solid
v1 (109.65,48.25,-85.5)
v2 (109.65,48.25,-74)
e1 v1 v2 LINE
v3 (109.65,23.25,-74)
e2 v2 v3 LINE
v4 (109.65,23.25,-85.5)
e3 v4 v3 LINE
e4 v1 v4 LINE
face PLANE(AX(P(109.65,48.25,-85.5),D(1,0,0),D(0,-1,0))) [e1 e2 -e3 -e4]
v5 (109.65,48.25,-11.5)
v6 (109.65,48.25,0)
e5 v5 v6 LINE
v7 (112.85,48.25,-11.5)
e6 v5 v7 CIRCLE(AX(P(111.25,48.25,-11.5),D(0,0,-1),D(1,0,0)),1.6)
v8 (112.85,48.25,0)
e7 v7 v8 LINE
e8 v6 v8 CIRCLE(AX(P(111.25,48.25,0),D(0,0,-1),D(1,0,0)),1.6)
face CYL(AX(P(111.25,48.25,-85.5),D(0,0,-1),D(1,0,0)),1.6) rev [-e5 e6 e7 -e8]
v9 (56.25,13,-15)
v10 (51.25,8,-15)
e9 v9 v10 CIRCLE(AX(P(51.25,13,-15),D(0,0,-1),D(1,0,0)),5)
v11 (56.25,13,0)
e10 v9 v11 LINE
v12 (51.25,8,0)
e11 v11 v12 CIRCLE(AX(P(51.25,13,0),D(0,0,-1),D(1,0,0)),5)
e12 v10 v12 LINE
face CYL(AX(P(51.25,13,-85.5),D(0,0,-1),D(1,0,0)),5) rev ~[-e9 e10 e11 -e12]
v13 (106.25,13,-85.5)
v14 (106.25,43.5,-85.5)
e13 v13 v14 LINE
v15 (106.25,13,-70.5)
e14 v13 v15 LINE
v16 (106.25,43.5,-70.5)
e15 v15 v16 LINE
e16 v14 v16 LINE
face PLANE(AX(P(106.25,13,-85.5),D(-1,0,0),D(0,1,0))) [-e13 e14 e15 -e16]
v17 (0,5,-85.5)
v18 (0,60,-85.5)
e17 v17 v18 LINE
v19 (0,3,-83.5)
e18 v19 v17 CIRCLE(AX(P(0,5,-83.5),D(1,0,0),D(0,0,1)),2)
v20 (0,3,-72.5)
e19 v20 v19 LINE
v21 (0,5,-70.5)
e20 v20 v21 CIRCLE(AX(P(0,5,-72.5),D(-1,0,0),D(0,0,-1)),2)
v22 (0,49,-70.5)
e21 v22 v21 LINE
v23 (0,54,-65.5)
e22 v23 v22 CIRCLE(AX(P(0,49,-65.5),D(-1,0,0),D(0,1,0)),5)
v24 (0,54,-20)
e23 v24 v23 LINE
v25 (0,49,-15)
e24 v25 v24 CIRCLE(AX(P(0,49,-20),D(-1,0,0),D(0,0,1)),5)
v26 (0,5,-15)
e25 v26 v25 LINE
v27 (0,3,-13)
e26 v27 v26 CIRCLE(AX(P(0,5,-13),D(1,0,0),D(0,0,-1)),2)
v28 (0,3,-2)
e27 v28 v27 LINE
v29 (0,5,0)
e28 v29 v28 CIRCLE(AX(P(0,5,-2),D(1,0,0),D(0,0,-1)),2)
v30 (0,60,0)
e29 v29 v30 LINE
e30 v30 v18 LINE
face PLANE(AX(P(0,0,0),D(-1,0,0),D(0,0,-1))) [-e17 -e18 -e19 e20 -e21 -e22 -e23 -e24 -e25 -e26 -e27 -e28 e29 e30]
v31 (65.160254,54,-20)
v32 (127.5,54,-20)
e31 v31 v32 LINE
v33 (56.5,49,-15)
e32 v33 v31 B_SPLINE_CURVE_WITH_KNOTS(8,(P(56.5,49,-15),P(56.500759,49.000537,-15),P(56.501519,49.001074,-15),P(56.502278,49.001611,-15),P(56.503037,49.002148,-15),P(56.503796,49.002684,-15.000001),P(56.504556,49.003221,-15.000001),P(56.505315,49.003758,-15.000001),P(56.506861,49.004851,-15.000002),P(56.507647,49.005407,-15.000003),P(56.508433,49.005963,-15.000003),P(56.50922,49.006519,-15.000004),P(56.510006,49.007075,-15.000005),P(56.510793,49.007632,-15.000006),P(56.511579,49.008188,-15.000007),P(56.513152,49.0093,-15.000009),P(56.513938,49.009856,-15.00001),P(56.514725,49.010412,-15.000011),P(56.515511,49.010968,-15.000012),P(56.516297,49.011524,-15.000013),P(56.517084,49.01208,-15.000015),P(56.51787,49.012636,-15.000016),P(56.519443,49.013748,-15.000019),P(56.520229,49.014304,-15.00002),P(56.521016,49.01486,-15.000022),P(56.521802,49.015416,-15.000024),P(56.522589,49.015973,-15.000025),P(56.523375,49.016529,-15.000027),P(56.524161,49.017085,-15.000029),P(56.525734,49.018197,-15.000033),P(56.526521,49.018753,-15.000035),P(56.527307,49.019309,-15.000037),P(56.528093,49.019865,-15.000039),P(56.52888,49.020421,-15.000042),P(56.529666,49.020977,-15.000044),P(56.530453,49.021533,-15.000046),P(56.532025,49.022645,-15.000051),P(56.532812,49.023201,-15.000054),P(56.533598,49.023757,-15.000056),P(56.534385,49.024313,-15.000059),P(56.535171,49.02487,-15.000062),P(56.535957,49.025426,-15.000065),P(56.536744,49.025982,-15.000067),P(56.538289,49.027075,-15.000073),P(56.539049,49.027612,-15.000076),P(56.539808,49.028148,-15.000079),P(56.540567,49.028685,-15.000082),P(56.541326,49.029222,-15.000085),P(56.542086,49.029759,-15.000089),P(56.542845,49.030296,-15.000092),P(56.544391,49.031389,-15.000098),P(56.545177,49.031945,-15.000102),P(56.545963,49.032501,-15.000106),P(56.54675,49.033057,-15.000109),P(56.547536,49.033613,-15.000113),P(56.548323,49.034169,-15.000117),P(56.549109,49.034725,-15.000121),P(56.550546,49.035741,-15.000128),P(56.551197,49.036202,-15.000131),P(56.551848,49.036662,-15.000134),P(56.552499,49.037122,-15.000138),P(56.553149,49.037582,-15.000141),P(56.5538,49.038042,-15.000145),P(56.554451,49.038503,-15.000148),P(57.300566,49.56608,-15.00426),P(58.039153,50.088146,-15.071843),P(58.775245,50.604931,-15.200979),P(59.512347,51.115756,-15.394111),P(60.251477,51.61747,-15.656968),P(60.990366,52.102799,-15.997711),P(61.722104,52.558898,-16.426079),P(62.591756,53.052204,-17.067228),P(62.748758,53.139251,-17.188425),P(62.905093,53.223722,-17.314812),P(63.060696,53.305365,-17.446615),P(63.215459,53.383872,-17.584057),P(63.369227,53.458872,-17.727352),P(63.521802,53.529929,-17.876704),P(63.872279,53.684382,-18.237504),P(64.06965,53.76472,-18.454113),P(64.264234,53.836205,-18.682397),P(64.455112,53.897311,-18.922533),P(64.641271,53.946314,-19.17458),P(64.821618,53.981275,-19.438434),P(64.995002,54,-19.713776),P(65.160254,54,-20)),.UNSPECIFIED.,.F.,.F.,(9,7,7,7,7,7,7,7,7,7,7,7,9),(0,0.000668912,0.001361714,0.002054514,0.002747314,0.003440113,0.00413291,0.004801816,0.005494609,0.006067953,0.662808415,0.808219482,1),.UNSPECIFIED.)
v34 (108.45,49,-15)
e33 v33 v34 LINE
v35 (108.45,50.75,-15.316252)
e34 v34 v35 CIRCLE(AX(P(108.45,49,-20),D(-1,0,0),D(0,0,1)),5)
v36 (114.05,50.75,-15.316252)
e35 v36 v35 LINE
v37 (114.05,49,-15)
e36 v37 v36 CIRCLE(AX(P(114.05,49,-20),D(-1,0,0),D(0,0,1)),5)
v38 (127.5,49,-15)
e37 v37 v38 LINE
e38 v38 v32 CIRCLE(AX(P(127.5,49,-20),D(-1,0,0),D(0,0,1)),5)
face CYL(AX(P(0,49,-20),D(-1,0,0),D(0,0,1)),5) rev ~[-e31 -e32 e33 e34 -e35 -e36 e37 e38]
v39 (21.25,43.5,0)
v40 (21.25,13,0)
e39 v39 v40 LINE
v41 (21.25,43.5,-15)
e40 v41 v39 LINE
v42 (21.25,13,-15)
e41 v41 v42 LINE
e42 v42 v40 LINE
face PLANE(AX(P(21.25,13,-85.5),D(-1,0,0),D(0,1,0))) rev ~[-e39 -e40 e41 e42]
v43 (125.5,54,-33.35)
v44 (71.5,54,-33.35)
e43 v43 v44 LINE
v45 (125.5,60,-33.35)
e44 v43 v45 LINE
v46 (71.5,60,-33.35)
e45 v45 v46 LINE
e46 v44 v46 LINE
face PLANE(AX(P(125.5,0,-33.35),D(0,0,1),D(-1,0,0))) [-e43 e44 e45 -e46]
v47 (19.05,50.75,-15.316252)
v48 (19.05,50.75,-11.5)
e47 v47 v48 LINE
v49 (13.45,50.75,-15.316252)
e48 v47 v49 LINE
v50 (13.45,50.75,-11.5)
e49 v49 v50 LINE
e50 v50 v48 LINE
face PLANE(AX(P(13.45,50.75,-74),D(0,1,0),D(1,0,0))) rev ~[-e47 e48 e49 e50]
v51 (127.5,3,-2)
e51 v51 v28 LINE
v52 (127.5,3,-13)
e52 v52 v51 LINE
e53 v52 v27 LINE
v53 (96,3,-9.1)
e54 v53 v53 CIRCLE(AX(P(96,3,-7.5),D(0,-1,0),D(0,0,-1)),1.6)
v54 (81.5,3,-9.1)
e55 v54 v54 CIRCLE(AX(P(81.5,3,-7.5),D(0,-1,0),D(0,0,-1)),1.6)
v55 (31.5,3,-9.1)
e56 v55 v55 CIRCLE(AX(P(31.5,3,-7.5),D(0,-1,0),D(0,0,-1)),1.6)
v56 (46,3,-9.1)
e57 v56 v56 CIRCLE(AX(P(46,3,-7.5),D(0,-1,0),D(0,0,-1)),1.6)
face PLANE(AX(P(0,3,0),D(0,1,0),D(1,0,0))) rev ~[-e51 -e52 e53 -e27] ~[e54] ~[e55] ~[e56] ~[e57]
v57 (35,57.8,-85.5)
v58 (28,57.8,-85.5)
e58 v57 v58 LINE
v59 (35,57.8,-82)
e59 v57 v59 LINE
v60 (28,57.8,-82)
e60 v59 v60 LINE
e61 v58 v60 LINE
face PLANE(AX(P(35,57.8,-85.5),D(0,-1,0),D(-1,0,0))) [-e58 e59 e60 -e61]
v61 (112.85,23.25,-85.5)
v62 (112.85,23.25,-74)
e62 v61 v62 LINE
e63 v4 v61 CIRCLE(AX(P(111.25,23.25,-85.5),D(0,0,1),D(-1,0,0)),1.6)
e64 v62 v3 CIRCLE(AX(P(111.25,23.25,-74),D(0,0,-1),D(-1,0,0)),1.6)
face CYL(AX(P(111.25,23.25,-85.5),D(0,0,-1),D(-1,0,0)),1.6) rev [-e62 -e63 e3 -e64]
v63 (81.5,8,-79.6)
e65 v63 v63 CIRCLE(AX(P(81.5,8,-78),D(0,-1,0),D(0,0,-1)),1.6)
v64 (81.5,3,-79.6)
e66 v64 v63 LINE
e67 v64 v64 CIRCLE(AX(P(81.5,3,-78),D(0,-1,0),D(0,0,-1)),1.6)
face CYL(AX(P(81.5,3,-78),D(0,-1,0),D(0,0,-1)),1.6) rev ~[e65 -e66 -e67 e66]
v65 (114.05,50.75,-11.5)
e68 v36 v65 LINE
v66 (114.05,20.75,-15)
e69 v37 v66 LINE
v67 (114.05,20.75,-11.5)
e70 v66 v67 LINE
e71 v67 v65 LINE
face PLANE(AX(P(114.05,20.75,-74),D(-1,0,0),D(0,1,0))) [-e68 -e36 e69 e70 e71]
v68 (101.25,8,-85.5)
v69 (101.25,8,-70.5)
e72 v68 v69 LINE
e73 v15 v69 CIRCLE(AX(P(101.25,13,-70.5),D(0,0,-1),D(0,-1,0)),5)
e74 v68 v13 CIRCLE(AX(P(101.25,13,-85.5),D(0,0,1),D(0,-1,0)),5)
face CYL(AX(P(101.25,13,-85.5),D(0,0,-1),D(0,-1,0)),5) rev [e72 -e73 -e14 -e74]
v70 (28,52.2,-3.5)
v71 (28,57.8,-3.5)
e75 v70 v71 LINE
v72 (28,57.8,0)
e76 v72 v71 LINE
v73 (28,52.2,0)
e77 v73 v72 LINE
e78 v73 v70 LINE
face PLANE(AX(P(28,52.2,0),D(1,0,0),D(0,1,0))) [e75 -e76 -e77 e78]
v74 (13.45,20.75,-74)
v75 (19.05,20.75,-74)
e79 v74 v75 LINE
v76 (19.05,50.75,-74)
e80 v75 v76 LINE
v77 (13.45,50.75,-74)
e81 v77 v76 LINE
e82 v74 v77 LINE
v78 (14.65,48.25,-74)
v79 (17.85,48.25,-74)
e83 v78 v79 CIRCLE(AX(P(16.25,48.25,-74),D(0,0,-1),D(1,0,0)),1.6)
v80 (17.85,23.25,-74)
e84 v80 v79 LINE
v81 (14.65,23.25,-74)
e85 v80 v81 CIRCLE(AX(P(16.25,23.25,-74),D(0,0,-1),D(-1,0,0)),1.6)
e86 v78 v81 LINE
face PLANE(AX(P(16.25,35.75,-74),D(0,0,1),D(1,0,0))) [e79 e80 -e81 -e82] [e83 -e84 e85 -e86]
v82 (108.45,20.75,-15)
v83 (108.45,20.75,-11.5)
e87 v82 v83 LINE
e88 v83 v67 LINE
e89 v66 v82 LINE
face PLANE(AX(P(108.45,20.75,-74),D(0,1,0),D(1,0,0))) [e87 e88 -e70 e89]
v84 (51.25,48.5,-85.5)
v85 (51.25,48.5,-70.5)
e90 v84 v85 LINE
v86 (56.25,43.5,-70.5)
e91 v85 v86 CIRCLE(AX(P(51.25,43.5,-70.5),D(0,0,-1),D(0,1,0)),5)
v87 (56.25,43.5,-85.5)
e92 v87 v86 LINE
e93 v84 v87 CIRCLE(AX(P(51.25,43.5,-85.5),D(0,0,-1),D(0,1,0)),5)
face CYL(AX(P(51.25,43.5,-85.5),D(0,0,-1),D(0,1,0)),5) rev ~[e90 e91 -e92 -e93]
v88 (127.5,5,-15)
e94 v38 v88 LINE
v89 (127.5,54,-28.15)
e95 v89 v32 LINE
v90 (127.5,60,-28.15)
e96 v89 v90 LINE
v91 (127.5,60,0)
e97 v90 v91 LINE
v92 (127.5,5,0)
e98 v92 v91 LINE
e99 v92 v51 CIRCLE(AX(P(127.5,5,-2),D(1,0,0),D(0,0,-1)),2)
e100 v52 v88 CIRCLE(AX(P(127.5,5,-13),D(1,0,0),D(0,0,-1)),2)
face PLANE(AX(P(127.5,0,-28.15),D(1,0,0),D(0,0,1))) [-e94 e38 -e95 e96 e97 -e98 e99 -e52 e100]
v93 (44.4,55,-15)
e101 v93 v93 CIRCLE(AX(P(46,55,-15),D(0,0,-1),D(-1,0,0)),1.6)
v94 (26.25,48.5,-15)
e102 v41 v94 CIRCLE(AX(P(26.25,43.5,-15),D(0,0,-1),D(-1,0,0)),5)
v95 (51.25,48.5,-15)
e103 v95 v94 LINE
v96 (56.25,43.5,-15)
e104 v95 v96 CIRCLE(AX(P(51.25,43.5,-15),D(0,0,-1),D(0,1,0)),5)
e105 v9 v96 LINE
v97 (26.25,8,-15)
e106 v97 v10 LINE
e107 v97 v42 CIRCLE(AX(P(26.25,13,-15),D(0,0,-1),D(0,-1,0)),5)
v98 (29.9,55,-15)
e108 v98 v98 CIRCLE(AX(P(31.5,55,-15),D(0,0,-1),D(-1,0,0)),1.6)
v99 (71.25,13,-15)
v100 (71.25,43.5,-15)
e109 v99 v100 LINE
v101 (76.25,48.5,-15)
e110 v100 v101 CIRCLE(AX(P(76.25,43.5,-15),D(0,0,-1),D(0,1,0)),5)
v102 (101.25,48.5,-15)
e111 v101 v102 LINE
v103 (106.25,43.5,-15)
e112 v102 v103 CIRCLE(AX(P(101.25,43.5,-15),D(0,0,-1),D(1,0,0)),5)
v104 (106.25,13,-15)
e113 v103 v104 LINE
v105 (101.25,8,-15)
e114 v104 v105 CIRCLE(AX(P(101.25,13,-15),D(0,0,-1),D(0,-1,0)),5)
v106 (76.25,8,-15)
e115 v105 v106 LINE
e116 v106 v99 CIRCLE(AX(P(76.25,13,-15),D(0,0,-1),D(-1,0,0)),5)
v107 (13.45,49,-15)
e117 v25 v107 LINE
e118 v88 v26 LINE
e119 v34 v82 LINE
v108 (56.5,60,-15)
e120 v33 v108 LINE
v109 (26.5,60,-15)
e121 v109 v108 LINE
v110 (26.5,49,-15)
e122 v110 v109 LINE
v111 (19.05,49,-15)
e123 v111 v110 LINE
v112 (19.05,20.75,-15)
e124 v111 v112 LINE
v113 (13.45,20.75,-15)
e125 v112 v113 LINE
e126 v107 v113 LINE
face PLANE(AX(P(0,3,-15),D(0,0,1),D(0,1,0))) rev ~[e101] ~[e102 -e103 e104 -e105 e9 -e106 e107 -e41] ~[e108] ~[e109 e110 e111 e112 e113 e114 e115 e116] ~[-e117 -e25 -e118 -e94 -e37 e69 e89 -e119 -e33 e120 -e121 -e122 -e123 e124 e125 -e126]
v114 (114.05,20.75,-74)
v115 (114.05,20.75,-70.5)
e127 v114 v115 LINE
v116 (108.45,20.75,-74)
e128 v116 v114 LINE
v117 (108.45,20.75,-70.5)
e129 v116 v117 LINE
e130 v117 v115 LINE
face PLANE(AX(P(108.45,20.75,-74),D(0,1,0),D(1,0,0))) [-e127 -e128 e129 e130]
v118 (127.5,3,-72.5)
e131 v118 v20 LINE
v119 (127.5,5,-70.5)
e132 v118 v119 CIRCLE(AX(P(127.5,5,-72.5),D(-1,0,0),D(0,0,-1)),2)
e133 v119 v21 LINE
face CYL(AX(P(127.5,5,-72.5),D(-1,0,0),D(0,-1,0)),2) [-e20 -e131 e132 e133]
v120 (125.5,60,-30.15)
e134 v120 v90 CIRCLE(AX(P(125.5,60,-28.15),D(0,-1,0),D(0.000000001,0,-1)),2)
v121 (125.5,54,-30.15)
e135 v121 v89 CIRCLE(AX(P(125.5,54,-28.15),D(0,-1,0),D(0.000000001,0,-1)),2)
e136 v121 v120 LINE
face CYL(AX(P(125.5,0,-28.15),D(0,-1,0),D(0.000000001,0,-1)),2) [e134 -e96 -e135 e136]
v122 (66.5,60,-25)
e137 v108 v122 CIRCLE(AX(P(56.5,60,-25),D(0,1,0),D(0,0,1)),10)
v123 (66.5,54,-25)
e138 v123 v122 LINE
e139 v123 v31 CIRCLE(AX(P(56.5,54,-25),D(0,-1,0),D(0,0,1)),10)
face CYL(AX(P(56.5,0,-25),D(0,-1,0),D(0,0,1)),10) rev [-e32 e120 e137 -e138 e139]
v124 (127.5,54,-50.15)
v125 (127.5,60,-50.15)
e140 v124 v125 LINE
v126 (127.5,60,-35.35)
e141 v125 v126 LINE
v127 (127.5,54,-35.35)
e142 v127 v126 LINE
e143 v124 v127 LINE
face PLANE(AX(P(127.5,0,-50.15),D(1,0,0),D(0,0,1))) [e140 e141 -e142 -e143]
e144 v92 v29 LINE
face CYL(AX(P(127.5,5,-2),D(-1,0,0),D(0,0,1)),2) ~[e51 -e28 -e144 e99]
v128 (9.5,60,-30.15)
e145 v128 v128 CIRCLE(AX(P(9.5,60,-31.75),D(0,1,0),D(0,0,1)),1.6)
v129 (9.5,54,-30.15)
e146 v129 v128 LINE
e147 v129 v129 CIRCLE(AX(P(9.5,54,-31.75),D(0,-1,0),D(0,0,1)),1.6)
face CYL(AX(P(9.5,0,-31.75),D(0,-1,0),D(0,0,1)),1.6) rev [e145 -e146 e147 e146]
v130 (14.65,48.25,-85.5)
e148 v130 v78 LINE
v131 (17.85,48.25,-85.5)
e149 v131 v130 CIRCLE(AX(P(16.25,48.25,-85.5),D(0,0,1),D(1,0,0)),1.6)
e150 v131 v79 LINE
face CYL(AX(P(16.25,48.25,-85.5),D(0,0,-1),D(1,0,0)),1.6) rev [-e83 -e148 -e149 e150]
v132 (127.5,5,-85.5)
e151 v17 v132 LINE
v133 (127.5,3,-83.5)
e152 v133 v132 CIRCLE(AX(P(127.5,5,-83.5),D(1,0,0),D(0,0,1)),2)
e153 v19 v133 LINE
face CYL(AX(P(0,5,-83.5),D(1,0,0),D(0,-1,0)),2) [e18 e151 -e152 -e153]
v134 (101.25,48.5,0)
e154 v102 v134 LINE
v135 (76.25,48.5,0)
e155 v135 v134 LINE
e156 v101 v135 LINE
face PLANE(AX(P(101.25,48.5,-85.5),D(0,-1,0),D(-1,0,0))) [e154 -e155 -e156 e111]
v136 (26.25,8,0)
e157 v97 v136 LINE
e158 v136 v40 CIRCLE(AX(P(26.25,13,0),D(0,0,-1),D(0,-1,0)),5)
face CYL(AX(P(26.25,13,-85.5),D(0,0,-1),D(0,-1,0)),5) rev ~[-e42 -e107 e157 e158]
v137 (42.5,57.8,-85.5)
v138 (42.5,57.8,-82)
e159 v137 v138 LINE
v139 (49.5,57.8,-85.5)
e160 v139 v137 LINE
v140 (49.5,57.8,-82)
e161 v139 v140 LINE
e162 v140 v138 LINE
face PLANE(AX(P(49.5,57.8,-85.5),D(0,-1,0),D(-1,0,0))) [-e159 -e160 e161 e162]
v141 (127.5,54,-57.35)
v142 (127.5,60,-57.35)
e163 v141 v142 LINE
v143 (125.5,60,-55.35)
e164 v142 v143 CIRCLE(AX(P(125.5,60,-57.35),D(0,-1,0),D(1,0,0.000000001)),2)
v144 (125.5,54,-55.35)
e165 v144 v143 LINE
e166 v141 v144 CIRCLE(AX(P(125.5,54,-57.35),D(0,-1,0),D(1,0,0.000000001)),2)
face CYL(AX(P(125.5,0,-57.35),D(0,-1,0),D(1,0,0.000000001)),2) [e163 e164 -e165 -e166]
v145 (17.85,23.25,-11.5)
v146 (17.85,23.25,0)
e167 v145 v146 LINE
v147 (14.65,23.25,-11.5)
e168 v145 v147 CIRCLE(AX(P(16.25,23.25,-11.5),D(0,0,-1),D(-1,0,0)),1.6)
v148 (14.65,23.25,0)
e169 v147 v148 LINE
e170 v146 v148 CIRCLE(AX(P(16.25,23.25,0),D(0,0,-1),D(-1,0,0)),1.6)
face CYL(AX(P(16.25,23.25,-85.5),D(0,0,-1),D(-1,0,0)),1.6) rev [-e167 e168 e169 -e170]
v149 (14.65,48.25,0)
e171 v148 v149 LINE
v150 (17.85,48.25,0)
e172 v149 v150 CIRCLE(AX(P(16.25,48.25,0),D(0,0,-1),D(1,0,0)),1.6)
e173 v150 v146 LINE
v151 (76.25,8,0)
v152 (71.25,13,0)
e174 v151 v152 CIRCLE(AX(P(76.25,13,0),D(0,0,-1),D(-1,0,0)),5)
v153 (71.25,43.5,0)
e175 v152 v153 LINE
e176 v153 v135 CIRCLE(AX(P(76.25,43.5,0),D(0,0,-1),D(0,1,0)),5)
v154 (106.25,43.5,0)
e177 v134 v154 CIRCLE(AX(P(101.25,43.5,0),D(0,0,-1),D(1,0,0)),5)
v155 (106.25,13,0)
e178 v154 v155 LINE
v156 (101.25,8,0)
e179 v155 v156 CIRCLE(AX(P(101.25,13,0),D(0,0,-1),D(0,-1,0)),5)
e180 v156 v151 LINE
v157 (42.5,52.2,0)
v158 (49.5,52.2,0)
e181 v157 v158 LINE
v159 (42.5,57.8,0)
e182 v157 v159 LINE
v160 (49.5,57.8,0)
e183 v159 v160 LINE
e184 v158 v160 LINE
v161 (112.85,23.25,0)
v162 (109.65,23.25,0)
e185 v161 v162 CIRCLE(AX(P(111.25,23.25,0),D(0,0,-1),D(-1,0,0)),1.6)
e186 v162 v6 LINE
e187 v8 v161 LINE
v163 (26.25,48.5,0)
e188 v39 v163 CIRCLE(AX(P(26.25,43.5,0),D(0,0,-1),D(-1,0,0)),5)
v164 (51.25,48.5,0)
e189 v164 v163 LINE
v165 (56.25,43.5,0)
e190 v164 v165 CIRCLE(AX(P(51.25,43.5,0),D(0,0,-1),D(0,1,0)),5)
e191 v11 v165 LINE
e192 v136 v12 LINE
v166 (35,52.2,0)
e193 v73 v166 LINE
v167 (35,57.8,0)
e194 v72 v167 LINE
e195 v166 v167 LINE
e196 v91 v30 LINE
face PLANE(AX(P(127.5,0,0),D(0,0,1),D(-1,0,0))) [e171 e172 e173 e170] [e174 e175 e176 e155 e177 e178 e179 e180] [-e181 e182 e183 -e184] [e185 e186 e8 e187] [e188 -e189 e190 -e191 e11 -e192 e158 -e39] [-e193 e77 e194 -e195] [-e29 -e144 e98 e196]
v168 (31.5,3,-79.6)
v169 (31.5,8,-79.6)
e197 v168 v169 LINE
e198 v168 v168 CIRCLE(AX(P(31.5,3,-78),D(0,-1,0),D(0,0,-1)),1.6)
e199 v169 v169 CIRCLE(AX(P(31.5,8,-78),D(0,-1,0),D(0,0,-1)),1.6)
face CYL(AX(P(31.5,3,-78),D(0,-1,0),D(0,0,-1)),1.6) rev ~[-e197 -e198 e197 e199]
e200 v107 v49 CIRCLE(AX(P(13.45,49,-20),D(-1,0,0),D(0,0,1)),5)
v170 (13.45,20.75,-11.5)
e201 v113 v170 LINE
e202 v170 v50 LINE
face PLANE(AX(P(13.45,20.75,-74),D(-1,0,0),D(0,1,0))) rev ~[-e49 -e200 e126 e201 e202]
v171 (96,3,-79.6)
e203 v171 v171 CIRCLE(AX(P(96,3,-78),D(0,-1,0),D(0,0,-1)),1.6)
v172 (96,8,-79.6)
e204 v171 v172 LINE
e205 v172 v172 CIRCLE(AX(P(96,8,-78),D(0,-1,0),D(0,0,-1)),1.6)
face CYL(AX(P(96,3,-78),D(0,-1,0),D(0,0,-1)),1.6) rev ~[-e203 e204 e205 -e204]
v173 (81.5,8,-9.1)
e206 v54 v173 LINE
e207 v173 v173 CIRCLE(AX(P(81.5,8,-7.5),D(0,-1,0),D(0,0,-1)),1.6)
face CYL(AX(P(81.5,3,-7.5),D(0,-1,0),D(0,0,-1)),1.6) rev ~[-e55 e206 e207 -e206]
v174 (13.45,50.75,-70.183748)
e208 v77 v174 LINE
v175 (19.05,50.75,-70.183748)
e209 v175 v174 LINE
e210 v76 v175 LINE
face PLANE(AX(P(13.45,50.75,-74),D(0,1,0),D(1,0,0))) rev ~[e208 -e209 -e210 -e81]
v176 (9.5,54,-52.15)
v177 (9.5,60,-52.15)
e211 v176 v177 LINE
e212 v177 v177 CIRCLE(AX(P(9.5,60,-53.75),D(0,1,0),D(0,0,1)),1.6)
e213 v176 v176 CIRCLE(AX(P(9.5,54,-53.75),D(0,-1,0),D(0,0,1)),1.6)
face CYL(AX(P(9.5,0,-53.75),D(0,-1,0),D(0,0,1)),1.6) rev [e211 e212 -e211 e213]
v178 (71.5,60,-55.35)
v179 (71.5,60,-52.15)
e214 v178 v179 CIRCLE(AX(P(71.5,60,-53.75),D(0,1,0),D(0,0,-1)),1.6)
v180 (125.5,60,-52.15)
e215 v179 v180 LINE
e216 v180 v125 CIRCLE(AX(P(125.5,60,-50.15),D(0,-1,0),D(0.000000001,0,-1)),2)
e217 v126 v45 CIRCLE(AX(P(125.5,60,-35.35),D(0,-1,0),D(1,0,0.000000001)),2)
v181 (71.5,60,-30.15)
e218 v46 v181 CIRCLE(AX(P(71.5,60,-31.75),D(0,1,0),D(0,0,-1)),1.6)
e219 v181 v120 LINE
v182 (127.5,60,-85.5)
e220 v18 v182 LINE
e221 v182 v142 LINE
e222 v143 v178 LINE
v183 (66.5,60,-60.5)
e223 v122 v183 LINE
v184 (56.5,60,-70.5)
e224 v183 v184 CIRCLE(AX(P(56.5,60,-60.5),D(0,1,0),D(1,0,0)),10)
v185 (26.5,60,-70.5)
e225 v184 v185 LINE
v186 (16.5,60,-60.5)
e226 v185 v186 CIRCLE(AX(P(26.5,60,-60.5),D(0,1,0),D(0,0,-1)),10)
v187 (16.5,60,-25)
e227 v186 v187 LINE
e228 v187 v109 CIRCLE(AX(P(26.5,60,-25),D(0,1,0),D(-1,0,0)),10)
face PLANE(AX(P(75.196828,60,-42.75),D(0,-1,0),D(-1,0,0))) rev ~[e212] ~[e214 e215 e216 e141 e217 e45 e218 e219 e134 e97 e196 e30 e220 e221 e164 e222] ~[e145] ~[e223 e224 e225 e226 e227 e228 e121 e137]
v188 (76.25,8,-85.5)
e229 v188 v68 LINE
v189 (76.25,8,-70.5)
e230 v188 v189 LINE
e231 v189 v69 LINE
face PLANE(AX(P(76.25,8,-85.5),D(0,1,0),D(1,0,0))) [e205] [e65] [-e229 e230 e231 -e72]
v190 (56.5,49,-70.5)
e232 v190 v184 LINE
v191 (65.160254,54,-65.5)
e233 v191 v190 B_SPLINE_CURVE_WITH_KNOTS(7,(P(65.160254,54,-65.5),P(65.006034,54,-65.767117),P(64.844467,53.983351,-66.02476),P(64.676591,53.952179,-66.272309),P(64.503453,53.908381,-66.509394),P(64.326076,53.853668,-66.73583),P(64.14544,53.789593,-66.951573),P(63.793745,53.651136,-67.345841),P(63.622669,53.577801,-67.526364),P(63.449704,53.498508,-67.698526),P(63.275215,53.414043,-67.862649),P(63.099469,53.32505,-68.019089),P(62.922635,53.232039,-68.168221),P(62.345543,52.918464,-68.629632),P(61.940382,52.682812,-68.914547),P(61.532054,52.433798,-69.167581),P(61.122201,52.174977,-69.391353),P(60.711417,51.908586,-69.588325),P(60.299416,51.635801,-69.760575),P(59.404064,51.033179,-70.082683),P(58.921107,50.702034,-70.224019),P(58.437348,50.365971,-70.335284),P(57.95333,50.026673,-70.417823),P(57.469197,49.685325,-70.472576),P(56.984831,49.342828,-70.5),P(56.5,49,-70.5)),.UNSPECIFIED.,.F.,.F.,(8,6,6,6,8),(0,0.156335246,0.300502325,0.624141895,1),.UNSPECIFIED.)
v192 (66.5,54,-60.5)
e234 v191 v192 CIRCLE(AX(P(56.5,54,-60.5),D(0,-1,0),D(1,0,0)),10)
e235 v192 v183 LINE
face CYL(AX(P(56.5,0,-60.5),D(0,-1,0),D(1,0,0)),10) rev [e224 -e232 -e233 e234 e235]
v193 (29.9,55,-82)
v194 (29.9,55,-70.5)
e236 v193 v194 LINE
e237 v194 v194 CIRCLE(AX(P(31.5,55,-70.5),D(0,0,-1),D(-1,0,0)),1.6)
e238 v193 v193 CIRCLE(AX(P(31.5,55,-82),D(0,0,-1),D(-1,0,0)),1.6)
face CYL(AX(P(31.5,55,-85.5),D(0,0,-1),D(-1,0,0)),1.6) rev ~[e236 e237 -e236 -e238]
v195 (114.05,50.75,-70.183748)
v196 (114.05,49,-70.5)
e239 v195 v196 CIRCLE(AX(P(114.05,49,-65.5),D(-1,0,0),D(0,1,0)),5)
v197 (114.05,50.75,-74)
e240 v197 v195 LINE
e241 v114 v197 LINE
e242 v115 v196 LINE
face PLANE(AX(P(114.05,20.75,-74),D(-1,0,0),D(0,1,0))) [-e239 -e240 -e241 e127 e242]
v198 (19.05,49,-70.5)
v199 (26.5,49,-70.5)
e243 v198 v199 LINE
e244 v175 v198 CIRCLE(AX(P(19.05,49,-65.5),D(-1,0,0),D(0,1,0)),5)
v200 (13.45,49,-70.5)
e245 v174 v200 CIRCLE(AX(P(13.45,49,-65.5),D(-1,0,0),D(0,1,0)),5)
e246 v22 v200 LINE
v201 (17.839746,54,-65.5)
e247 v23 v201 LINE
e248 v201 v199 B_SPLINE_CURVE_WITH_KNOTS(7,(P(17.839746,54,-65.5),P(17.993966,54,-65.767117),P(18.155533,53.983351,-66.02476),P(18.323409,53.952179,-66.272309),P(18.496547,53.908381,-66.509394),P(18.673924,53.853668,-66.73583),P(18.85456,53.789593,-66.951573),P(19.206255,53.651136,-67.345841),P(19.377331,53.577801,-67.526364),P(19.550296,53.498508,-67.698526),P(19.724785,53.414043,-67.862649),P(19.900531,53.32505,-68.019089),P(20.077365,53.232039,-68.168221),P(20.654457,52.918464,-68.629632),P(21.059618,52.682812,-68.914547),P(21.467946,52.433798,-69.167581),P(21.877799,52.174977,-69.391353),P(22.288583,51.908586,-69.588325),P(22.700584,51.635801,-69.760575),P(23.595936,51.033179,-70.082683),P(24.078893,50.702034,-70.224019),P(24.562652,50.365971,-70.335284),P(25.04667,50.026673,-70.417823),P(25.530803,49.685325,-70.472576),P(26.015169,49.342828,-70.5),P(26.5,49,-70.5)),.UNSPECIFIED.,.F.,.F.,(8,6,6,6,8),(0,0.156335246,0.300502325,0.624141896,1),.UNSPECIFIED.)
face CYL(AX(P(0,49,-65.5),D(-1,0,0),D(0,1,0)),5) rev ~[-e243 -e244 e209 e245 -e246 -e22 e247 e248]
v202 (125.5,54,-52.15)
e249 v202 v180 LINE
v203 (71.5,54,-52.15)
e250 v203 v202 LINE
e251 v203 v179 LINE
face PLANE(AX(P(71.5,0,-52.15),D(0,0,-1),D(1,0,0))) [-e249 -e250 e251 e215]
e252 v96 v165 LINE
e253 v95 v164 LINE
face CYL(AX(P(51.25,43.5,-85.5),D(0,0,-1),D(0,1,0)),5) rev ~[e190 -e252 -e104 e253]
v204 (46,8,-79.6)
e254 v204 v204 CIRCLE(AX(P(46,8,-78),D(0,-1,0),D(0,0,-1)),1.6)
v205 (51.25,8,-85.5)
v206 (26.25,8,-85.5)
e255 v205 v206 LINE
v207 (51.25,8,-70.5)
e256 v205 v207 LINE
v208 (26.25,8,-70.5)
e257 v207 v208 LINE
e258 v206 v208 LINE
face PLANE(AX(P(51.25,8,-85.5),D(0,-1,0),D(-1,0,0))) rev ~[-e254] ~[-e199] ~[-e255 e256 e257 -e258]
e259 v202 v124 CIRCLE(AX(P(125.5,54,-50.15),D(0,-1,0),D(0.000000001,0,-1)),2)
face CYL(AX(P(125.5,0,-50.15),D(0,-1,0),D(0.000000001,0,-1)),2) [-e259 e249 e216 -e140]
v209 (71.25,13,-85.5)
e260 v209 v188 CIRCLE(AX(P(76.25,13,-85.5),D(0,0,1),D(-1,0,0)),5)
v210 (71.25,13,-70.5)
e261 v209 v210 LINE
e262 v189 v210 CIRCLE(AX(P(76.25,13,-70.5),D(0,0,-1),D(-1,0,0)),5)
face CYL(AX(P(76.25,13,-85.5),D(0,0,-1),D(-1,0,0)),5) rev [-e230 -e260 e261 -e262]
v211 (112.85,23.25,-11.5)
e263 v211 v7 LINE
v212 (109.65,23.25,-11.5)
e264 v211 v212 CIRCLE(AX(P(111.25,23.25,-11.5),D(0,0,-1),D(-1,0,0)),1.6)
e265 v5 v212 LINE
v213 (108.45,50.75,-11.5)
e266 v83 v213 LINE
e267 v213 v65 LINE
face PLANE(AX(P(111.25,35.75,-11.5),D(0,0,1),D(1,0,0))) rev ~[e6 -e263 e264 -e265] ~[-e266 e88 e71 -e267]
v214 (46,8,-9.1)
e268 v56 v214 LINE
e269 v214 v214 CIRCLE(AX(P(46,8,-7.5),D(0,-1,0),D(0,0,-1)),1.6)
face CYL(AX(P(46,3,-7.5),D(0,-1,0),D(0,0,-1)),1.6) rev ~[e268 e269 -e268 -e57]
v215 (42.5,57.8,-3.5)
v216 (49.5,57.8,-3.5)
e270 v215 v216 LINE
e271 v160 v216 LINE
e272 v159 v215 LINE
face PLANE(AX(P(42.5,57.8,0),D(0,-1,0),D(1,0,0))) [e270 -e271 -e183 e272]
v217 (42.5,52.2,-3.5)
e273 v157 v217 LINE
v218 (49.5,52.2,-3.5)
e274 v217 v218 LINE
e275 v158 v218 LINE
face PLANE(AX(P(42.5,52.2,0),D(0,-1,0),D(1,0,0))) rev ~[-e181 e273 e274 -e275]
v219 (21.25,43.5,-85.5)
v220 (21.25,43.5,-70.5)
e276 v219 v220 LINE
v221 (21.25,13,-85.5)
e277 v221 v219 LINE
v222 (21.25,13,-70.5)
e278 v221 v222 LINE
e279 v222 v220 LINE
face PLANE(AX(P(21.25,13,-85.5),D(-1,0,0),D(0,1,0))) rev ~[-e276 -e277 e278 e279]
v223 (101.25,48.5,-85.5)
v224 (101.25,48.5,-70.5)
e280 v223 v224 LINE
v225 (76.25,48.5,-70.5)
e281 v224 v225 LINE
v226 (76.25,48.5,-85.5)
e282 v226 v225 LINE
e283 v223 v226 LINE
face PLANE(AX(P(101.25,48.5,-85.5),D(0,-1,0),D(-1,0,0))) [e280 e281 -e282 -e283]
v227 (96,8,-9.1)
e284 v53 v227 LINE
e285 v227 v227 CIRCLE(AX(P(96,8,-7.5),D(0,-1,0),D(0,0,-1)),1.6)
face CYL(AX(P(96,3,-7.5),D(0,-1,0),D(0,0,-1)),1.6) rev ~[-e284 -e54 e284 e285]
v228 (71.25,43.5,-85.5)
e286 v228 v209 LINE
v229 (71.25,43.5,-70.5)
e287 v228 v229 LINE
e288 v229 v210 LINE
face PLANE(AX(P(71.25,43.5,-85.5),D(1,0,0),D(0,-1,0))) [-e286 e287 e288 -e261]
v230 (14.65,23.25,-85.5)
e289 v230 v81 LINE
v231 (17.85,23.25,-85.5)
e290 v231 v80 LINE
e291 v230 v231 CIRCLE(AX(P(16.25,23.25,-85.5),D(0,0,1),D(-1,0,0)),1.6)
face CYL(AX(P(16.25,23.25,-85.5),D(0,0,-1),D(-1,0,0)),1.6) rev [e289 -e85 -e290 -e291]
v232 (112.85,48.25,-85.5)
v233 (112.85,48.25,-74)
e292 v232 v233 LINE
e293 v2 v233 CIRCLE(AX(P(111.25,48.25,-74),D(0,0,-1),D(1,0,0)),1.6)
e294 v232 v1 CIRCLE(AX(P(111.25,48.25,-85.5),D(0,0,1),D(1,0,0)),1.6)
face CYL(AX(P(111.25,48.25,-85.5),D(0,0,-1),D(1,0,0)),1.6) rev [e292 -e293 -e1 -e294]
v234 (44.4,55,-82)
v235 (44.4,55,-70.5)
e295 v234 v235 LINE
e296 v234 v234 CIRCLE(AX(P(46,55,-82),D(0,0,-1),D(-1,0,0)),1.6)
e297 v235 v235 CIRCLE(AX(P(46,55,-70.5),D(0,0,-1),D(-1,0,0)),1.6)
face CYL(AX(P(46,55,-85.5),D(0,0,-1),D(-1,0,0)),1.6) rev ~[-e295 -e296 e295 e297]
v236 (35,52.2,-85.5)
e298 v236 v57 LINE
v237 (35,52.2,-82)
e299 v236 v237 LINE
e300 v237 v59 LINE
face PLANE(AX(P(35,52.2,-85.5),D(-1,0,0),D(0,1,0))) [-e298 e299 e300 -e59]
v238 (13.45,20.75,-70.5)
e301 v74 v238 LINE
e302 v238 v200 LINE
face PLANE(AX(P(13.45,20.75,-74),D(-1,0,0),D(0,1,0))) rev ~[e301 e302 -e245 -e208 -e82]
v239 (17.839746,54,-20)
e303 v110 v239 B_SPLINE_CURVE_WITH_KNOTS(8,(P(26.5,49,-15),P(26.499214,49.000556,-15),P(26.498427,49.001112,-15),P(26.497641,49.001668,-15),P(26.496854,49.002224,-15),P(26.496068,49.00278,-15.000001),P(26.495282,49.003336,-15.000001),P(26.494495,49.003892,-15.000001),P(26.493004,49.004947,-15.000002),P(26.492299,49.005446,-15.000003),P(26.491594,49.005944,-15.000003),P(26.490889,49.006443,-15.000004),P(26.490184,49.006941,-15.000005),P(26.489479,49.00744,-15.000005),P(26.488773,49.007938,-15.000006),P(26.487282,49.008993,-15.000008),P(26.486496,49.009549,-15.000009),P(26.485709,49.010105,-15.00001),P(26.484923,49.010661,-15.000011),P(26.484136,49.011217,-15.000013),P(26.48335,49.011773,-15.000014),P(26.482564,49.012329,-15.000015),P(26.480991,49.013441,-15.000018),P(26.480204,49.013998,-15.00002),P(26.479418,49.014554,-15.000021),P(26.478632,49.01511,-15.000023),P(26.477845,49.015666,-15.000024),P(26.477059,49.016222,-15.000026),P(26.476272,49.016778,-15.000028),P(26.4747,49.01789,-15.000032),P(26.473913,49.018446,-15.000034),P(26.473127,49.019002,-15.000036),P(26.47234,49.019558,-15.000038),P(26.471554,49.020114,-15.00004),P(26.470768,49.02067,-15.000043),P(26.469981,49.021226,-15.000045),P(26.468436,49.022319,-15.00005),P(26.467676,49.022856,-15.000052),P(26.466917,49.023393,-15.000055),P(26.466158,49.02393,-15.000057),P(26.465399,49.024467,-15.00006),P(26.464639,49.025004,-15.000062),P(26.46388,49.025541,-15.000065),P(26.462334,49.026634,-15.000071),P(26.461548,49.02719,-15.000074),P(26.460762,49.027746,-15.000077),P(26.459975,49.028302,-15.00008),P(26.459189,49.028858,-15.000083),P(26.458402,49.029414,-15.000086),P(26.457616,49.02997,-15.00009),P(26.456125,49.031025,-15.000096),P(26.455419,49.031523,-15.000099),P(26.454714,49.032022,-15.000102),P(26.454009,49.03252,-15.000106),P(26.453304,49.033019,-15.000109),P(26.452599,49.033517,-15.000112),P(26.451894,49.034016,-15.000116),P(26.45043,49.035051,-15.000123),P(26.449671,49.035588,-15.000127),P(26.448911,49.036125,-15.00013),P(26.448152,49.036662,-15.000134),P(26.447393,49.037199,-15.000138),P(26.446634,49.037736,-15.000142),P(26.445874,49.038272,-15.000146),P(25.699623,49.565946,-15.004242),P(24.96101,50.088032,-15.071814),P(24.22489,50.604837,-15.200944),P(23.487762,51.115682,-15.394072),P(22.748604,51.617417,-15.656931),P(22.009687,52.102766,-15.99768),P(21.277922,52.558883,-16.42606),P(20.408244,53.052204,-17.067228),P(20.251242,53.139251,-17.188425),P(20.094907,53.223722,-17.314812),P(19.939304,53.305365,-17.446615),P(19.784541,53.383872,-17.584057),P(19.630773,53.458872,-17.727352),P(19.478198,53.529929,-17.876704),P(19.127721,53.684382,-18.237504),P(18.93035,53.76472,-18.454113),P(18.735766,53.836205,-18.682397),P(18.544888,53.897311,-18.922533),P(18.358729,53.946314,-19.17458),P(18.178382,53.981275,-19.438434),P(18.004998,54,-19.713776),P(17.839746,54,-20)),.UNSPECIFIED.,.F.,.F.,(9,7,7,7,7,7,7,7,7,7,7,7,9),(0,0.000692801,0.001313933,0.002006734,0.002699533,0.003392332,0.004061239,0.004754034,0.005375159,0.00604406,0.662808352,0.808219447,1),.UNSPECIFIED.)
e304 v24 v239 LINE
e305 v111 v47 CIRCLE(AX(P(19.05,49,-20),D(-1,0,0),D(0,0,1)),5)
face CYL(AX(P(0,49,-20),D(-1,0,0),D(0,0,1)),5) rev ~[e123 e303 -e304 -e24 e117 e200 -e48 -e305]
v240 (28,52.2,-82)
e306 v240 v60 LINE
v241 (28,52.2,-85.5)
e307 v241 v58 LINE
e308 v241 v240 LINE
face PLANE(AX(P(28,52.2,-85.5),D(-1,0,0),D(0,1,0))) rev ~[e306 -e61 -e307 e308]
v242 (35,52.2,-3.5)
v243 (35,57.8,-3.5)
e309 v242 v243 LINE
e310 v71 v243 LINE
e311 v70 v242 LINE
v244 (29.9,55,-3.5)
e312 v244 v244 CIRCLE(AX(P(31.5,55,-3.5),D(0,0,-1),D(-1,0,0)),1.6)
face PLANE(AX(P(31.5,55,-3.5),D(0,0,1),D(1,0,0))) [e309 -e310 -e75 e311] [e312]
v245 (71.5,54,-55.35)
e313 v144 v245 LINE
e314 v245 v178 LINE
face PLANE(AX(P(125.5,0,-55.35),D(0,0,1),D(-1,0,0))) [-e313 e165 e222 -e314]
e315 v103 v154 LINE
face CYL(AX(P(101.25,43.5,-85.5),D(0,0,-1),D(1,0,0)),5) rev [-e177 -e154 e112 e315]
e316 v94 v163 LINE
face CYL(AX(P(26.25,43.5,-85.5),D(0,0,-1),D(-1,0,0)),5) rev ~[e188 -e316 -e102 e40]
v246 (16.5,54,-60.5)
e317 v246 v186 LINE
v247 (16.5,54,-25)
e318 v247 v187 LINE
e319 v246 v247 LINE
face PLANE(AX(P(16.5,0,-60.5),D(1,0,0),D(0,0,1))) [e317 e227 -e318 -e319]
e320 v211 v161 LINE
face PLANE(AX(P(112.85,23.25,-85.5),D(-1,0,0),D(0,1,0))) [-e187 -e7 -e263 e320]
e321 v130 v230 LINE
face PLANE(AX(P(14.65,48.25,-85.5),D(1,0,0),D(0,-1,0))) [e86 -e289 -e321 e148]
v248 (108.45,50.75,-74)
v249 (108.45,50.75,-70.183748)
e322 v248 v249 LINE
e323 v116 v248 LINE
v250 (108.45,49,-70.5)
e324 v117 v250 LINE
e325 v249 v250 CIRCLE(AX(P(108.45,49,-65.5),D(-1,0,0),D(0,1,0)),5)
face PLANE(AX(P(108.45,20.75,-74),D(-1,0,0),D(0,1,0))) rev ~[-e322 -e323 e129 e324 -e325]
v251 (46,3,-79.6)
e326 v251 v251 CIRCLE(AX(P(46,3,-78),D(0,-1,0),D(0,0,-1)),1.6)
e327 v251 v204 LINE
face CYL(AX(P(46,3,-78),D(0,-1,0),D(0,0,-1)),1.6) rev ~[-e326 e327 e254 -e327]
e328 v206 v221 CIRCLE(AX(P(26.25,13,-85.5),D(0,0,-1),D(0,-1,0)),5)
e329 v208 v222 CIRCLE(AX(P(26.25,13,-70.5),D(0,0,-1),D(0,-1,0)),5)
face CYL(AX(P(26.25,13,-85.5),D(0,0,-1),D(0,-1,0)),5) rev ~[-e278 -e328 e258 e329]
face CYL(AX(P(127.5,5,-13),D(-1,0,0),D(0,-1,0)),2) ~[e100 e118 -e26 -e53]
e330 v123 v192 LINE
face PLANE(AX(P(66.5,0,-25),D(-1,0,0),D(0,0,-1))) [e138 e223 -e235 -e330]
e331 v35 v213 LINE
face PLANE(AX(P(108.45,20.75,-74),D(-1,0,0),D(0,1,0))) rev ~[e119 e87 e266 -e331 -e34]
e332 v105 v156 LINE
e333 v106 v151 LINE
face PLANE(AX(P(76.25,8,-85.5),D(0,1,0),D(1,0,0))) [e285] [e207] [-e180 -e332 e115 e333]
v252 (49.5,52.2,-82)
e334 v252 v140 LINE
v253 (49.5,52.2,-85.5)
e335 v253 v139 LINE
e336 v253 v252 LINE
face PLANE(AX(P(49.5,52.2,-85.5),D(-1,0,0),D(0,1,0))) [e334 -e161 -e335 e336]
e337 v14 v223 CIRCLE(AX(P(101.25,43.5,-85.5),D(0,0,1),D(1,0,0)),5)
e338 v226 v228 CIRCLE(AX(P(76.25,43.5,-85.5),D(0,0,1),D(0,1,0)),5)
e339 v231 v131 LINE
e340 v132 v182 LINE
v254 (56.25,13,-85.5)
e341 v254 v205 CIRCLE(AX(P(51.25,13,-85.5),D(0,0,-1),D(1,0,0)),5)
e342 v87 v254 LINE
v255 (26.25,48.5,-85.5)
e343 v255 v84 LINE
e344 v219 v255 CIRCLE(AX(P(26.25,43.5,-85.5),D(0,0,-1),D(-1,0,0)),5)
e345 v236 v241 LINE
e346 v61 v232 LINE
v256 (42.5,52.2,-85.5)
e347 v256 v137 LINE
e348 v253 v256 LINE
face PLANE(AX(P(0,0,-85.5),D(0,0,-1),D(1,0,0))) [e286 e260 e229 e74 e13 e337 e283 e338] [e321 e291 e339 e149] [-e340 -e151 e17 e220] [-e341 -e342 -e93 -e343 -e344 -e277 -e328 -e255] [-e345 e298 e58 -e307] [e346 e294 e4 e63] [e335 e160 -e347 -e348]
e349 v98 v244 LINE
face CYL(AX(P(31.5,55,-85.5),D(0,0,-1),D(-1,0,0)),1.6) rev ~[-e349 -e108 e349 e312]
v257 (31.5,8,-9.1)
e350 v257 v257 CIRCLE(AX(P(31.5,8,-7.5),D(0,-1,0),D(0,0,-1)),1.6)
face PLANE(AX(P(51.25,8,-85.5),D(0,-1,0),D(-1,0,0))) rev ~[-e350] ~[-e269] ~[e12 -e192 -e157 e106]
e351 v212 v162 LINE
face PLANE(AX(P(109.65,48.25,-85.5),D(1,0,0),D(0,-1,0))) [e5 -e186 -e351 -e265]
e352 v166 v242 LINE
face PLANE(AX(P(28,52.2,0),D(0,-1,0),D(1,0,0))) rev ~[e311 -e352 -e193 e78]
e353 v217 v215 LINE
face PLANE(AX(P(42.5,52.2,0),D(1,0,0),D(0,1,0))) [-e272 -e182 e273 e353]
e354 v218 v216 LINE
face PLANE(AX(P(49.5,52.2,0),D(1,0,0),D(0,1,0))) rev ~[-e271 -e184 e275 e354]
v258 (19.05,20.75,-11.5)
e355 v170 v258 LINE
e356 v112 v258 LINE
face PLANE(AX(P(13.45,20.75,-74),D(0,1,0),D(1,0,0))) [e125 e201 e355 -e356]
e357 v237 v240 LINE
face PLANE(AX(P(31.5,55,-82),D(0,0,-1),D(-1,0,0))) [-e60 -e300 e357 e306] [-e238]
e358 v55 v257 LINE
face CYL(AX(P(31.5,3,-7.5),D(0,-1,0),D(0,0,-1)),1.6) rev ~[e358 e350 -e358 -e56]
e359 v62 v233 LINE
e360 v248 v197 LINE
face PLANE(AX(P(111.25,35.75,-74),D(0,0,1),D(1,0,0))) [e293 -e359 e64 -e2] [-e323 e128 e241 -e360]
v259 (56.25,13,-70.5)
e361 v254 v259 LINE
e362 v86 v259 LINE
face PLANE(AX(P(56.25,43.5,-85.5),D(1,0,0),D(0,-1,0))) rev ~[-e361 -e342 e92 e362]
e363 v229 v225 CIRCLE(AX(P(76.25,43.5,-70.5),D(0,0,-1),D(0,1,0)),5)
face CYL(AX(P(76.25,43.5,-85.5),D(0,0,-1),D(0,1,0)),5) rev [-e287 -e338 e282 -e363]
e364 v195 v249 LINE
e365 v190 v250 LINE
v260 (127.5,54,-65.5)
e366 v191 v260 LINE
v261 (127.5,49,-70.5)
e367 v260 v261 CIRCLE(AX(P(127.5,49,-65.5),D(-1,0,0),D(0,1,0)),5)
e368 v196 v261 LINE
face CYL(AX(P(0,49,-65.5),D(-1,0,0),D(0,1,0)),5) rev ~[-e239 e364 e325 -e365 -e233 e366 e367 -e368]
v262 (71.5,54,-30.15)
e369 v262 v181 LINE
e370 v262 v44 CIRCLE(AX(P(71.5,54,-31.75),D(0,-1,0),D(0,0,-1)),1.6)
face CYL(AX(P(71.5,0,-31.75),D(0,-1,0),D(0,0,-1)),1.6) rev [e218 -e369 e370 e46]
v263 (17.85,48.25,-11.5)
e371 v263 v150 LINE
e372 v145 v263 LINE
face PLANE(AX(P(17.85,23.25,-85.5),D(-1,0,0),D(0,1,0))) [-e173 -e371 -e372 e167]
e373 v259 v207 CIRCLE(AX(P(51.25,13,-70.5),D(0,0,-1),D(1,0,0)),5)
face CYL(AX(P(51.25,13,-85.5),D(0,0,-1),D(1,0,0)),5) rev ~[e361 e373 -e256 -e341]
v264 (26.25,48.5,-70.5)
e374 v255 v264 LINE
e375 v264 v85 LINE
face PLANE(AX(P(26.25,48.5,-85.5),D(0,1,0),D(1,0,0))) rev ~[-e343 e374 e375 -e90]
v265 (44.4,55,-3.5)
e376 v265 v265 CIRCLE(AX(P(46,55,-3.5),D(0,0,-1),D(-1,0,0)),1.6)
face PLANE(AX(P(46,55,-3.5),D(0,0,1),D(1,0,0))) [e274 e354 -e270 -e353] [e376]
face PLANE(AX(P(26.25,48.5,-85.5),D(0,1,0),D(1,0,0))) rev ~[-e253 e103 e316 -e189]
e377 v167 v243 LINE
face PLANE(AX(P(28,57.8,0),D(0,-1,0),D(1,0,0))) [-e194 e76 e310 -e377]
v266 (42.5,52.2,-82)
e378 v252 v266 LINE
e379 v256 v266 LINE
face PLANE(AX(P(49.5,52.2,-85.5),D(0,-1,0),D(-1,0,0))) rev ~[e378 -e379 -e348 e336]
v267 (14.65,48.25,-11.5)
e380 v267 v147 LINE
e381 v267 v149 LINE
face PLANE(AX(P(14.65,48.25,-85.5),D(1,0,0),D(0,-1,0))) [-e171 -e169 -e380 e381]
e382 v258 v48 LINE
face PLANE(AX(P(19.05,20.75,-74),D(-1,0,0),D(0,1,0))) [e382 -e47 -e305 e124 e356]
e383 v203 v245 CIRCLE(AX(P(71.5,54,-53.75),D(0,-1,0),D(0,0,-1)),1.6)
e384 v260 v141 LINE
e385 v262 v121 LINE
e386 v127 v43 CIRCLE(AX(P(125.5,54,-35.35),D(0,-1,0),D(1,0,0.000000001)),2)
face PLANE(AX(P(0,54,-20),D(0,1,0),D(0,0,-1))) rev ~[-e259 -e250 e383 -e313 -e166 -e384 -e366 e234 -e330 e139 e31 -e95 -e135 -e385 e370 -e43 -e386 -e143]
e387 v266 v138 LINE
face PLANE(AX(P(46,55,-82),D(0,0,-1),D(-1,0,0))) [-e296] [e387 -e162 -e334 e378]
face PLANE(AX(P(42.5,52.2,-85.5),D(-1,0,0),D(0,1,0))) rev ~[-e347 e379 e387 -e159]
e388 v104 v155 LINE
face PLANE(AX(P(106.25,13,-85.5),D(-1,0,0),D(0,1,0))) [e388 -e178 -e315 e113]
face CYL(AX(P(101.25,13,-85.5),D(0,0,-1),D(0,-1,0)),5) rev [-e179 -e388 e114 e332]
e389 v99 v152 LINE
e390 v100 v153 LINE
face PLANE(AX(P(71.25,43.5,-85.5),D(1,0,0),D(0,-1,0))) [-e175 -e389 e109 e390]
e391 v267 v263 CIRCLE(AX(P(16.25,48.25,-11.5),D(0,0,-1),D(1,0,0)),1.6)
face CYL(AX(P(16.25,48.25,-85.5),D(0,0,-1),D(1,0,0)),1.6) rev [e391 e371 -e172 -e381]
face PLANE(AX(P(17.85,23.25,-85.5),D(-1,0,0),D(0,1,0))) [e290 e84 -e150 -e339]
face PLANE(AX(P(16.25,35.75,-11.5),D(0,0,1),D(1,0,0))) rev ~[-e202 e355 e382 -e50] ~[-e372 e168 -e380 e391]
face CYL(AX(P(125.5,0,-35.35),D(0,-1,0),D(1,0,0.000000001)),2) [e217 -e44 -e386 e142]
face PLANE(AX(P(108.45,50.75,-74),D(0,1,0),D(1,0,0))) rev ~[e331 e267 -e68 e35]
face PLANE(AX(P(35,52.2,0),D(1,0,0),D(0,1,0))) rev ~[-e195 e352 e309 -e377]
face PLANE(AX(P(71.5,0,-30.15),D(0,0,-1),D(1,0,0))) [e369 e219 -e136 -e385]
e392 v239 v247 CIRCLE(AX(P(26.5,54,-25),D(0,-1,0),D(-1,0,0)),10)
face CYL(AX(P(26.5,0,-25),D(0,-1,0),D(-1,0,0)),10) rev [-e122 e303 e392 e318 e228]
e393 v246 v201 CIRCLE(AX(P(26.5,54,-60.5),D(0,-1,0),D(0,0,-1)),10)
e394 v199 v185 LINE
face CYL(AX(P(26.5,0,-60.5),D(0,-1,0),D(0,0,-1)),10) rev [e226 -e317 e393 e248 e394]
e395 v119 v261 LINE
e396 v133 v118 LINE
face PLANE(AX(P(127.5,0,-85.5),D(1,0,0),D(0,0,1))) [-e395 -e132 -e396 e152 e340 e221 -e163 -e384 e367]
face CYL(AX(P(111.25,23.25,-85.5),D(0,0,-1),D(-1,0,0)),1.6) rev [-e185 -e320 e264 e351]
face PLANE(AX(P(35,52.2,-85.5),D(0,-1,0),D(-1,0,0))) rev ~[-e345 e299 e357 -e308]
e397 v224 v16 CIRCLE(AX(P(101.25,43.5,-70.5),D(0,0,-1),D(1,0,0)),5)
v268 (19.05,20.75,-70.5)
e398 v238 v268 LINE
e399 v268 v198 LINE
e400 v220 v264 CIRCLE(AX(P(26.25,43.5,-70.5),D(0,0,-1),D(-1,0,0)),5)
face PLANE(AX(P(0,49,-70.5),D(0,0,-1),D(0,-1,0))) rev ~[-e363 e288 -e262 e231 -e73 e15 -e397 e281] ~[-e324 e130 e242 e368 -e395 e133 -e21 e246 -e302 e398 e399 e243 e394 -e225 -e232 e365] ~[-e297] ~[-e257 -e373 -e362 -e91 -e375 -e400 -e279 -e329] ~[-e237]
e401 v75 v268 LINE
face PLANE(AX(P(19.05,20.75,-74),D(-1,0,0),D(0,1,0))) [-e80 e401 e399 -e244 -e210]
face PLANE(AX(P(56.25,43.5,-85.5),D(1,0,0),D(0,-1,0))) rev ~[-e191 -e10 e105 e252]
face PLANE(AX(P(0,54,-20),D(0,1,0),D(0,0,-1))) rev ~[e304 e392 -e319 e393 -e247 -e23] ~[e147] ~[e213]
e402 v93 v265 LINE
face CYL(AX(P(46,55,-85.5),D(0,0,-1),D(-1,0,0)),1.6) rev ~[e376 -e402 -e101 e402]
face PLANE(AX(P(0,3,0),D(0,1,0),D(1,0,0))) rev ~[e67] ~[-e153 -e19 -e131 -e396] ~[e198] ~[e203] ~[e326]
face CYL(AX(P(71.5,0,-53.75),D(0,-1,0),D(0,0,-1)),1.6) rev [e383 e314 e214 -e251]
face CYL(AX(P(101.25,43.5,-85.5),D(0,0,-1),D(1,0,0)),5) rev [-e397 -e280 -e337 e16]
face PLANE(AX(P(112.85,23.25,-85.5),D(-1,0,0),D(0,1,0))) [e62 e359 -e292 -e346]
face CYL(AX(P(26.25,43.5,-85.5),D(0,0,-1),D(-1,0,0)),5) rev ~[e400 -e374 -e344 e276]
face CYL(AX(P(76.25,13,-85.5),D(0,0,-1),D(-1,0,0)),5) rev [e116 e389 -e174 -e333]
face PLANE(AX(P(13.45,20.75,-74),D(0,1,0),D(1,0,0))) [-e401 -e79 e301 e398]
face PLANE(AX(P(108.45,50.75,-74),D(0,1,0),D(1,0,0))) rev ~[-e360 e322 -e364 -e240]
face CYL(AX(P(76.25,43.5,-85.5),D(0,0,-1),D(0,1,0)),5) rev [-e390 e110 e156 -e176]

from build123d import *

# Parameters (mm, degrees)
SKETCH1_R               = 1.6
BOSS_EXTRUDE1_DEPTH     = 60
CUT_EXTRUDE1_DEPTH      = 165.822631941
SKETCH4_R               = 1.6
CUT_EXTRUDE2_DEPTH      = 165.822632055
CUT_EXTRUDE3_DEPTH      = 31.25
CUT_EXTRUDE3_DEPTH_BACK = 31.25
SKETCH5_W               = 5.6
SKETCH5_H               = 30
SKETCH8_R               = 1.6
CUT_EXTRUDE6_DEPTH      = 5
FILLET1_R               = 2
FILLET2_R               = 2
FILLET3_R               = 2
FILLET4_R               = 2
SKETCH9_W               = 7
SKETCH9_H               = 5.6
CUT_EXTRUDE7_DEPTH      = 3.5
SKETCH10_W              = 7
SKETCH10_H              = 5.6
CUT_EXTRUDE8_DEPTH      = 3.5


with BuildPart() as part:
    # Sketch1 → Boss-Extrude1 (new body)
    with BuildSketch(Plane(origin=(0, 0, 0), x_dir=(1, 0, 0), z_dir=(0, 1, 0))):
        with BuildLine():
            Line((0, 57.75), (0, 85.5))
            Line((0, 85.5), (127.5, 85.5))
            Line((127.5, 85.5), (127.5, 57.35))
            ThreePointArc((127.5, 57.35), (126.914213562, 55.935786438), (125.5, 55.35))
            Line((125.5, 55.35), (71.5, 55.35))
            ThreePointArc((71.5, 55.35), (69.9, 53.75), (71.5, 52.15))
            Line((71.5, 52.15), (125.5, 52.15))
            ThreePointArc((125.5, 52.15), (126.914213562, 51.564213562), (127.5, 50.15))
            Line((127.5, 50.15), (127.5, 35.35))
            ThreePointArc((127.5, 35.35), (126.914213562, 33.935786438), (125.5, 33.35))
            Line((125.5, 33.35), (71.5, 33.35))
            ThreePointArc((71.5, 33.35), (69.9, 31.75), (71.5, 30.15))
            Line((71.5, 30.15), (125.5, 30.15))
            ThreePointArc((125.5, 30.15), (126.914213562, 29.564213562), (127.5, 28.15))
            Line((127.5, 28.15), (127.5, 0))
            Line((127.5, 0), (0, 0))
            Line((0, 0), (0, 27.75))
            Line((0, 27.75), (0, 57.75))
        make_face()
        with Locations(Location((9.5, 53.75, 0), (0, 0, 270))):
            Circle(SKETCH1_R, mode=Mode.SUBTRACT)
        with Locations(Location((9.5, 31.75, 0), (0, 0, 270))):
            Circle(SKETCH1_R, mode=Mode.SUBTRACT)
        with BuildLine():
            Line((26.5, 15), (56.5, 15))
            ThreePointArc((56.5, 15), (63.571067812, 17.928932188), (66.5, 25))
            Line((66.5, 25), (66.5, 60.5))
            ThreePointArc((66.5, 60.5), (63.571067812, 67.571067812), (56.5, 70.5))
            Line((56.5, 70.5), (26.5, 70.5))
            ThreePointArc((26.5, 70.5), (19.428932188, 67.571067812), (16.5, 60.5))
            Line((16.5, 60.5), (16.5, 25))
            ThreePointArc((16.5, 25), (19.428932188, 17.928932188), (26.5, 15))
        make_face(mode=Mode.SUBTRACT)
    extrude(amount=BOSS_EXTRUDE1_DEPTH)

    # Sketch2 → Cut-Extrude1 (cut, through all)
    with BuildSketch(Plane.ZY):
        with BuildLine():
            Line((-70.5, 8), (-70.5, 3))
            Line((-70.5, 3), (-65.5, 3))
            Line((-65.5, 3), (-20, 3))
            Line((-20, 3), (-15, 3))
            Line((-15, 3), (-15, 8))
            Line((-15, 8), (-15, 49))
            ThreePointArc((-15, 49), (-16.464466094, 52.535533906), (-20, 54))
            Line((-20, 54), (-65.5, 54))
            ThreePointArc((-65.5, 54), (-69.035533906, 52.535533906), (-70.5, 49))
            Line((-70.5, 49), (-70.5, 8))
        make_face()
    extrude(amount=-CUT_EXTRUDE1_DEPTH, mode=Mode.SUBTRACT)

    # Sketch4 → Cut-Extrude2 (cut, through all)
    with BuildSketch(Plane(origin=(0, 0, -85.5), x_dir=(-1, 0, 0), z_dir=(0, 0, -1))):
        with Locations((-46, 55)):
            Circle(SKETCH4_R)
        with Locations((-31.5, 55)):
            Circle(SKETCH4_R)
        with BuildLine():
            Line((-56.25, 43.5), (-56.25, 13))
            ThreePointArc((-56.25, 13), (-54.785533906, 9.464466094), (-51.25, 8))
            Line((-51.25, 8), (-26.25, 8))
            ThreePointArc((-26.25, 8), (-22.714466094, 9.464466094), (-21.25, 13))
            Line((-21.25, 13), (-21.25, 43.5))
            ThreePointArc((-21.25, 43.5), (-22.714466094, 47.035533906), (-26.25, 48.5))
            Line((-26.25, 48.5), (-51.25, 48.5))
            ThreePointArc((-51.25, 48.5), (-54.785533906, 47.035533906), (-56.25, 43.5))
        make_face()
        with BuildLine():
            Line((-101.25, 48.5), (-76.25, 48.5))
            ThreePointArc((-76.25, 48.5), (-72.714466094, 47.035533906), (-71.25, 43.5))
            Line((-71.25, 43.5), (-71.25, 13))
            ThreePointArc((-71.25, 13), (-72.714466094, 9.464466094), (-76.25, 8))
            Line((-76.25, 8), (-101.25, 8))
            ThreePointArc((-101.25, 8), (-104.785533906, 9.464466094), (-106.25, 13))
            Line((-106.25, 13), (-106.25, 43.5))
            ThreePointArc((-106.25, 43.5), (-104.785533906, 47.035533906), (-101.25, 48.5))
        make_face()
        with BuildLine():
            Line((-112.85, 23.25), (-112.85, 48.25))
            ThreePointArc((-112.85, 48.25), (-111.25, 49.85), (-109.65, 48.25))
            Line((-109.65, 48.25), (-109.65, 23.25))
            ThreePointArc((-109.65, 23.25), (-111.25, 21.65), (-112.85, 23.25))
        make_face()
        with BuildLine():
            Line((-17.85, 23.25), (-17.85, 48.25))
            ThreePointArc((-17.85, 48.25), (-16.25, 49.85), (-14.65, 48.25))
            Line((-14.65, 48.25), (-14.65, 23.25))
            ThreePointArc((-14.65, 23.25), (-16.25, 21.65), (-17.85, 23.25))
        make_face()
    extrude(amount=-CUT_EXTRUDE2_DEPTH, mode=Mode.SUBTRACT)

    # Sketch5 → Cut-Extrude3 (cut, two sides: drawn at the far end of the back side and taken through both)
    with BuildSketch(Plane.XY.offset(-42.75).offset(-CUT_EXTRUDE3_DEPTH_BACK)):
        with Locations((16.25, 35.75)):
            Rectangle(SKETCH5_W, SKETCH5_H)
        with Locations((111.25, 35.75)):
            Rectangle(SKETCH5_W, SKETCH5_H)
    extrude(amount=CUT_EXTRUDE3_DEPTH + CUT_EXTRUDE3_DEPTH_BACK, mode=Mode.SUBTRACT)

    # SurfaceCut1
    split(bisect_by=Plane(origin=(0, 3, 0), x_dir=(1, 0, 0), z_dir=(0, 1, 0)), keep=Keep.TOP)

    # Sketch8 → Cut-Extrude6 (cut)
    with BuildSketch(Plane.XZ.offset(-3)):
        with Locations(Location((31.5, -7.5, 0), (0, 0, 270))):
            Circle(SKETCH8_R)
        with Locations(Location((46, -7.5, 0), (0, 0, 270))):
            Circle(SKETCH8_R)
        with Locations(Location((31.5, -78, 0), (0, 0, 270))):
            Circle(SKETCH8_R)
        with Locations(Location((46, -78, 0), (0, 0, 270))):
            Circle(SKETCH8_R)
        with Locations(Location((81.5, -7.5, 0), (0, 0, 270))):
            Circle(SKETCH8_R)
        with Locations(Location((96, -7.5, 0), (0, 0, 270))):
            Circle(SKETCH8_R)
        with Locations(Location((81.5, -78, 0), (0, 0, 270))):
            Circle(SKETCH8_R)
        with Locations(Location((96, -78, 0), (0, 0, 270))):
            Circle(SKETCH8_R)
    extrude(amount=-CUT_EXTRUDE6_DEPTH, mode=Mode.SUBTRACT)

    # Fillet1
    fillet1_edges = [part.edges().sort_by_distance(p)[0] for p in [
        (63.75, 3, 0),
    ]]
    fillet(fillet1_edges, radius=FILLET1_R)

    # Fillet2
    fillet2_edges = [part.edges().sort_by_distance(p)[0] for p in [
        (63.75, 3, -15),
    ]]
    fillet(fillet2_edges, radius=FILLET2_R)

    # Fillet3
    fillet3_edges = [part.edges().sort_by_distance(p)[0] for p in [
        (63.75, 3, -70.5),
    ]]
    fillet(fillet3_edges, radius=FILLET3_R)

    # Fillet4
    fillet4_edges = [part.edges().sort_by_distance(p)[0] for p in [
        (63.75, 3, -85.5),
    ]]
    fillet(fillet4_edges, radius=FILLET4_R)

    # Sketch9 → Cut-Extrude7 (cut)
    with BuildSketch(Plane(origin=(0, 0, -85.5), x_dir=(-1, 0, 0), z_dir=(0, 0, -1))):
        with Locations((-46, 55)):
            Rectangle(SKETCH9_W, SKETCH9_H)
        with Locations((-31.5, 55)):
            Rectangle(SKETCH9_W, SKETCH9_H)
    extrude(amount=-CUT_EXTRUDE7_DEPTH, mode=Mode.SUBTRACT)

    # Sketch10 → Cut-Extrude8 (cut)
    with BuildSketch(Plane.XY):
        with Locations((31.5, 55)):
            Rectangle(SKETCH10_W, SKETCH10_H)
        with Locations((46, 55)):
            Rectangle(SKETCH10_W, SKETCH10_H)
    extrude(amount=-CUT_EXTRUDE8_DEPTH, mode=Mode.SUBTRACT)


solid = part.part
